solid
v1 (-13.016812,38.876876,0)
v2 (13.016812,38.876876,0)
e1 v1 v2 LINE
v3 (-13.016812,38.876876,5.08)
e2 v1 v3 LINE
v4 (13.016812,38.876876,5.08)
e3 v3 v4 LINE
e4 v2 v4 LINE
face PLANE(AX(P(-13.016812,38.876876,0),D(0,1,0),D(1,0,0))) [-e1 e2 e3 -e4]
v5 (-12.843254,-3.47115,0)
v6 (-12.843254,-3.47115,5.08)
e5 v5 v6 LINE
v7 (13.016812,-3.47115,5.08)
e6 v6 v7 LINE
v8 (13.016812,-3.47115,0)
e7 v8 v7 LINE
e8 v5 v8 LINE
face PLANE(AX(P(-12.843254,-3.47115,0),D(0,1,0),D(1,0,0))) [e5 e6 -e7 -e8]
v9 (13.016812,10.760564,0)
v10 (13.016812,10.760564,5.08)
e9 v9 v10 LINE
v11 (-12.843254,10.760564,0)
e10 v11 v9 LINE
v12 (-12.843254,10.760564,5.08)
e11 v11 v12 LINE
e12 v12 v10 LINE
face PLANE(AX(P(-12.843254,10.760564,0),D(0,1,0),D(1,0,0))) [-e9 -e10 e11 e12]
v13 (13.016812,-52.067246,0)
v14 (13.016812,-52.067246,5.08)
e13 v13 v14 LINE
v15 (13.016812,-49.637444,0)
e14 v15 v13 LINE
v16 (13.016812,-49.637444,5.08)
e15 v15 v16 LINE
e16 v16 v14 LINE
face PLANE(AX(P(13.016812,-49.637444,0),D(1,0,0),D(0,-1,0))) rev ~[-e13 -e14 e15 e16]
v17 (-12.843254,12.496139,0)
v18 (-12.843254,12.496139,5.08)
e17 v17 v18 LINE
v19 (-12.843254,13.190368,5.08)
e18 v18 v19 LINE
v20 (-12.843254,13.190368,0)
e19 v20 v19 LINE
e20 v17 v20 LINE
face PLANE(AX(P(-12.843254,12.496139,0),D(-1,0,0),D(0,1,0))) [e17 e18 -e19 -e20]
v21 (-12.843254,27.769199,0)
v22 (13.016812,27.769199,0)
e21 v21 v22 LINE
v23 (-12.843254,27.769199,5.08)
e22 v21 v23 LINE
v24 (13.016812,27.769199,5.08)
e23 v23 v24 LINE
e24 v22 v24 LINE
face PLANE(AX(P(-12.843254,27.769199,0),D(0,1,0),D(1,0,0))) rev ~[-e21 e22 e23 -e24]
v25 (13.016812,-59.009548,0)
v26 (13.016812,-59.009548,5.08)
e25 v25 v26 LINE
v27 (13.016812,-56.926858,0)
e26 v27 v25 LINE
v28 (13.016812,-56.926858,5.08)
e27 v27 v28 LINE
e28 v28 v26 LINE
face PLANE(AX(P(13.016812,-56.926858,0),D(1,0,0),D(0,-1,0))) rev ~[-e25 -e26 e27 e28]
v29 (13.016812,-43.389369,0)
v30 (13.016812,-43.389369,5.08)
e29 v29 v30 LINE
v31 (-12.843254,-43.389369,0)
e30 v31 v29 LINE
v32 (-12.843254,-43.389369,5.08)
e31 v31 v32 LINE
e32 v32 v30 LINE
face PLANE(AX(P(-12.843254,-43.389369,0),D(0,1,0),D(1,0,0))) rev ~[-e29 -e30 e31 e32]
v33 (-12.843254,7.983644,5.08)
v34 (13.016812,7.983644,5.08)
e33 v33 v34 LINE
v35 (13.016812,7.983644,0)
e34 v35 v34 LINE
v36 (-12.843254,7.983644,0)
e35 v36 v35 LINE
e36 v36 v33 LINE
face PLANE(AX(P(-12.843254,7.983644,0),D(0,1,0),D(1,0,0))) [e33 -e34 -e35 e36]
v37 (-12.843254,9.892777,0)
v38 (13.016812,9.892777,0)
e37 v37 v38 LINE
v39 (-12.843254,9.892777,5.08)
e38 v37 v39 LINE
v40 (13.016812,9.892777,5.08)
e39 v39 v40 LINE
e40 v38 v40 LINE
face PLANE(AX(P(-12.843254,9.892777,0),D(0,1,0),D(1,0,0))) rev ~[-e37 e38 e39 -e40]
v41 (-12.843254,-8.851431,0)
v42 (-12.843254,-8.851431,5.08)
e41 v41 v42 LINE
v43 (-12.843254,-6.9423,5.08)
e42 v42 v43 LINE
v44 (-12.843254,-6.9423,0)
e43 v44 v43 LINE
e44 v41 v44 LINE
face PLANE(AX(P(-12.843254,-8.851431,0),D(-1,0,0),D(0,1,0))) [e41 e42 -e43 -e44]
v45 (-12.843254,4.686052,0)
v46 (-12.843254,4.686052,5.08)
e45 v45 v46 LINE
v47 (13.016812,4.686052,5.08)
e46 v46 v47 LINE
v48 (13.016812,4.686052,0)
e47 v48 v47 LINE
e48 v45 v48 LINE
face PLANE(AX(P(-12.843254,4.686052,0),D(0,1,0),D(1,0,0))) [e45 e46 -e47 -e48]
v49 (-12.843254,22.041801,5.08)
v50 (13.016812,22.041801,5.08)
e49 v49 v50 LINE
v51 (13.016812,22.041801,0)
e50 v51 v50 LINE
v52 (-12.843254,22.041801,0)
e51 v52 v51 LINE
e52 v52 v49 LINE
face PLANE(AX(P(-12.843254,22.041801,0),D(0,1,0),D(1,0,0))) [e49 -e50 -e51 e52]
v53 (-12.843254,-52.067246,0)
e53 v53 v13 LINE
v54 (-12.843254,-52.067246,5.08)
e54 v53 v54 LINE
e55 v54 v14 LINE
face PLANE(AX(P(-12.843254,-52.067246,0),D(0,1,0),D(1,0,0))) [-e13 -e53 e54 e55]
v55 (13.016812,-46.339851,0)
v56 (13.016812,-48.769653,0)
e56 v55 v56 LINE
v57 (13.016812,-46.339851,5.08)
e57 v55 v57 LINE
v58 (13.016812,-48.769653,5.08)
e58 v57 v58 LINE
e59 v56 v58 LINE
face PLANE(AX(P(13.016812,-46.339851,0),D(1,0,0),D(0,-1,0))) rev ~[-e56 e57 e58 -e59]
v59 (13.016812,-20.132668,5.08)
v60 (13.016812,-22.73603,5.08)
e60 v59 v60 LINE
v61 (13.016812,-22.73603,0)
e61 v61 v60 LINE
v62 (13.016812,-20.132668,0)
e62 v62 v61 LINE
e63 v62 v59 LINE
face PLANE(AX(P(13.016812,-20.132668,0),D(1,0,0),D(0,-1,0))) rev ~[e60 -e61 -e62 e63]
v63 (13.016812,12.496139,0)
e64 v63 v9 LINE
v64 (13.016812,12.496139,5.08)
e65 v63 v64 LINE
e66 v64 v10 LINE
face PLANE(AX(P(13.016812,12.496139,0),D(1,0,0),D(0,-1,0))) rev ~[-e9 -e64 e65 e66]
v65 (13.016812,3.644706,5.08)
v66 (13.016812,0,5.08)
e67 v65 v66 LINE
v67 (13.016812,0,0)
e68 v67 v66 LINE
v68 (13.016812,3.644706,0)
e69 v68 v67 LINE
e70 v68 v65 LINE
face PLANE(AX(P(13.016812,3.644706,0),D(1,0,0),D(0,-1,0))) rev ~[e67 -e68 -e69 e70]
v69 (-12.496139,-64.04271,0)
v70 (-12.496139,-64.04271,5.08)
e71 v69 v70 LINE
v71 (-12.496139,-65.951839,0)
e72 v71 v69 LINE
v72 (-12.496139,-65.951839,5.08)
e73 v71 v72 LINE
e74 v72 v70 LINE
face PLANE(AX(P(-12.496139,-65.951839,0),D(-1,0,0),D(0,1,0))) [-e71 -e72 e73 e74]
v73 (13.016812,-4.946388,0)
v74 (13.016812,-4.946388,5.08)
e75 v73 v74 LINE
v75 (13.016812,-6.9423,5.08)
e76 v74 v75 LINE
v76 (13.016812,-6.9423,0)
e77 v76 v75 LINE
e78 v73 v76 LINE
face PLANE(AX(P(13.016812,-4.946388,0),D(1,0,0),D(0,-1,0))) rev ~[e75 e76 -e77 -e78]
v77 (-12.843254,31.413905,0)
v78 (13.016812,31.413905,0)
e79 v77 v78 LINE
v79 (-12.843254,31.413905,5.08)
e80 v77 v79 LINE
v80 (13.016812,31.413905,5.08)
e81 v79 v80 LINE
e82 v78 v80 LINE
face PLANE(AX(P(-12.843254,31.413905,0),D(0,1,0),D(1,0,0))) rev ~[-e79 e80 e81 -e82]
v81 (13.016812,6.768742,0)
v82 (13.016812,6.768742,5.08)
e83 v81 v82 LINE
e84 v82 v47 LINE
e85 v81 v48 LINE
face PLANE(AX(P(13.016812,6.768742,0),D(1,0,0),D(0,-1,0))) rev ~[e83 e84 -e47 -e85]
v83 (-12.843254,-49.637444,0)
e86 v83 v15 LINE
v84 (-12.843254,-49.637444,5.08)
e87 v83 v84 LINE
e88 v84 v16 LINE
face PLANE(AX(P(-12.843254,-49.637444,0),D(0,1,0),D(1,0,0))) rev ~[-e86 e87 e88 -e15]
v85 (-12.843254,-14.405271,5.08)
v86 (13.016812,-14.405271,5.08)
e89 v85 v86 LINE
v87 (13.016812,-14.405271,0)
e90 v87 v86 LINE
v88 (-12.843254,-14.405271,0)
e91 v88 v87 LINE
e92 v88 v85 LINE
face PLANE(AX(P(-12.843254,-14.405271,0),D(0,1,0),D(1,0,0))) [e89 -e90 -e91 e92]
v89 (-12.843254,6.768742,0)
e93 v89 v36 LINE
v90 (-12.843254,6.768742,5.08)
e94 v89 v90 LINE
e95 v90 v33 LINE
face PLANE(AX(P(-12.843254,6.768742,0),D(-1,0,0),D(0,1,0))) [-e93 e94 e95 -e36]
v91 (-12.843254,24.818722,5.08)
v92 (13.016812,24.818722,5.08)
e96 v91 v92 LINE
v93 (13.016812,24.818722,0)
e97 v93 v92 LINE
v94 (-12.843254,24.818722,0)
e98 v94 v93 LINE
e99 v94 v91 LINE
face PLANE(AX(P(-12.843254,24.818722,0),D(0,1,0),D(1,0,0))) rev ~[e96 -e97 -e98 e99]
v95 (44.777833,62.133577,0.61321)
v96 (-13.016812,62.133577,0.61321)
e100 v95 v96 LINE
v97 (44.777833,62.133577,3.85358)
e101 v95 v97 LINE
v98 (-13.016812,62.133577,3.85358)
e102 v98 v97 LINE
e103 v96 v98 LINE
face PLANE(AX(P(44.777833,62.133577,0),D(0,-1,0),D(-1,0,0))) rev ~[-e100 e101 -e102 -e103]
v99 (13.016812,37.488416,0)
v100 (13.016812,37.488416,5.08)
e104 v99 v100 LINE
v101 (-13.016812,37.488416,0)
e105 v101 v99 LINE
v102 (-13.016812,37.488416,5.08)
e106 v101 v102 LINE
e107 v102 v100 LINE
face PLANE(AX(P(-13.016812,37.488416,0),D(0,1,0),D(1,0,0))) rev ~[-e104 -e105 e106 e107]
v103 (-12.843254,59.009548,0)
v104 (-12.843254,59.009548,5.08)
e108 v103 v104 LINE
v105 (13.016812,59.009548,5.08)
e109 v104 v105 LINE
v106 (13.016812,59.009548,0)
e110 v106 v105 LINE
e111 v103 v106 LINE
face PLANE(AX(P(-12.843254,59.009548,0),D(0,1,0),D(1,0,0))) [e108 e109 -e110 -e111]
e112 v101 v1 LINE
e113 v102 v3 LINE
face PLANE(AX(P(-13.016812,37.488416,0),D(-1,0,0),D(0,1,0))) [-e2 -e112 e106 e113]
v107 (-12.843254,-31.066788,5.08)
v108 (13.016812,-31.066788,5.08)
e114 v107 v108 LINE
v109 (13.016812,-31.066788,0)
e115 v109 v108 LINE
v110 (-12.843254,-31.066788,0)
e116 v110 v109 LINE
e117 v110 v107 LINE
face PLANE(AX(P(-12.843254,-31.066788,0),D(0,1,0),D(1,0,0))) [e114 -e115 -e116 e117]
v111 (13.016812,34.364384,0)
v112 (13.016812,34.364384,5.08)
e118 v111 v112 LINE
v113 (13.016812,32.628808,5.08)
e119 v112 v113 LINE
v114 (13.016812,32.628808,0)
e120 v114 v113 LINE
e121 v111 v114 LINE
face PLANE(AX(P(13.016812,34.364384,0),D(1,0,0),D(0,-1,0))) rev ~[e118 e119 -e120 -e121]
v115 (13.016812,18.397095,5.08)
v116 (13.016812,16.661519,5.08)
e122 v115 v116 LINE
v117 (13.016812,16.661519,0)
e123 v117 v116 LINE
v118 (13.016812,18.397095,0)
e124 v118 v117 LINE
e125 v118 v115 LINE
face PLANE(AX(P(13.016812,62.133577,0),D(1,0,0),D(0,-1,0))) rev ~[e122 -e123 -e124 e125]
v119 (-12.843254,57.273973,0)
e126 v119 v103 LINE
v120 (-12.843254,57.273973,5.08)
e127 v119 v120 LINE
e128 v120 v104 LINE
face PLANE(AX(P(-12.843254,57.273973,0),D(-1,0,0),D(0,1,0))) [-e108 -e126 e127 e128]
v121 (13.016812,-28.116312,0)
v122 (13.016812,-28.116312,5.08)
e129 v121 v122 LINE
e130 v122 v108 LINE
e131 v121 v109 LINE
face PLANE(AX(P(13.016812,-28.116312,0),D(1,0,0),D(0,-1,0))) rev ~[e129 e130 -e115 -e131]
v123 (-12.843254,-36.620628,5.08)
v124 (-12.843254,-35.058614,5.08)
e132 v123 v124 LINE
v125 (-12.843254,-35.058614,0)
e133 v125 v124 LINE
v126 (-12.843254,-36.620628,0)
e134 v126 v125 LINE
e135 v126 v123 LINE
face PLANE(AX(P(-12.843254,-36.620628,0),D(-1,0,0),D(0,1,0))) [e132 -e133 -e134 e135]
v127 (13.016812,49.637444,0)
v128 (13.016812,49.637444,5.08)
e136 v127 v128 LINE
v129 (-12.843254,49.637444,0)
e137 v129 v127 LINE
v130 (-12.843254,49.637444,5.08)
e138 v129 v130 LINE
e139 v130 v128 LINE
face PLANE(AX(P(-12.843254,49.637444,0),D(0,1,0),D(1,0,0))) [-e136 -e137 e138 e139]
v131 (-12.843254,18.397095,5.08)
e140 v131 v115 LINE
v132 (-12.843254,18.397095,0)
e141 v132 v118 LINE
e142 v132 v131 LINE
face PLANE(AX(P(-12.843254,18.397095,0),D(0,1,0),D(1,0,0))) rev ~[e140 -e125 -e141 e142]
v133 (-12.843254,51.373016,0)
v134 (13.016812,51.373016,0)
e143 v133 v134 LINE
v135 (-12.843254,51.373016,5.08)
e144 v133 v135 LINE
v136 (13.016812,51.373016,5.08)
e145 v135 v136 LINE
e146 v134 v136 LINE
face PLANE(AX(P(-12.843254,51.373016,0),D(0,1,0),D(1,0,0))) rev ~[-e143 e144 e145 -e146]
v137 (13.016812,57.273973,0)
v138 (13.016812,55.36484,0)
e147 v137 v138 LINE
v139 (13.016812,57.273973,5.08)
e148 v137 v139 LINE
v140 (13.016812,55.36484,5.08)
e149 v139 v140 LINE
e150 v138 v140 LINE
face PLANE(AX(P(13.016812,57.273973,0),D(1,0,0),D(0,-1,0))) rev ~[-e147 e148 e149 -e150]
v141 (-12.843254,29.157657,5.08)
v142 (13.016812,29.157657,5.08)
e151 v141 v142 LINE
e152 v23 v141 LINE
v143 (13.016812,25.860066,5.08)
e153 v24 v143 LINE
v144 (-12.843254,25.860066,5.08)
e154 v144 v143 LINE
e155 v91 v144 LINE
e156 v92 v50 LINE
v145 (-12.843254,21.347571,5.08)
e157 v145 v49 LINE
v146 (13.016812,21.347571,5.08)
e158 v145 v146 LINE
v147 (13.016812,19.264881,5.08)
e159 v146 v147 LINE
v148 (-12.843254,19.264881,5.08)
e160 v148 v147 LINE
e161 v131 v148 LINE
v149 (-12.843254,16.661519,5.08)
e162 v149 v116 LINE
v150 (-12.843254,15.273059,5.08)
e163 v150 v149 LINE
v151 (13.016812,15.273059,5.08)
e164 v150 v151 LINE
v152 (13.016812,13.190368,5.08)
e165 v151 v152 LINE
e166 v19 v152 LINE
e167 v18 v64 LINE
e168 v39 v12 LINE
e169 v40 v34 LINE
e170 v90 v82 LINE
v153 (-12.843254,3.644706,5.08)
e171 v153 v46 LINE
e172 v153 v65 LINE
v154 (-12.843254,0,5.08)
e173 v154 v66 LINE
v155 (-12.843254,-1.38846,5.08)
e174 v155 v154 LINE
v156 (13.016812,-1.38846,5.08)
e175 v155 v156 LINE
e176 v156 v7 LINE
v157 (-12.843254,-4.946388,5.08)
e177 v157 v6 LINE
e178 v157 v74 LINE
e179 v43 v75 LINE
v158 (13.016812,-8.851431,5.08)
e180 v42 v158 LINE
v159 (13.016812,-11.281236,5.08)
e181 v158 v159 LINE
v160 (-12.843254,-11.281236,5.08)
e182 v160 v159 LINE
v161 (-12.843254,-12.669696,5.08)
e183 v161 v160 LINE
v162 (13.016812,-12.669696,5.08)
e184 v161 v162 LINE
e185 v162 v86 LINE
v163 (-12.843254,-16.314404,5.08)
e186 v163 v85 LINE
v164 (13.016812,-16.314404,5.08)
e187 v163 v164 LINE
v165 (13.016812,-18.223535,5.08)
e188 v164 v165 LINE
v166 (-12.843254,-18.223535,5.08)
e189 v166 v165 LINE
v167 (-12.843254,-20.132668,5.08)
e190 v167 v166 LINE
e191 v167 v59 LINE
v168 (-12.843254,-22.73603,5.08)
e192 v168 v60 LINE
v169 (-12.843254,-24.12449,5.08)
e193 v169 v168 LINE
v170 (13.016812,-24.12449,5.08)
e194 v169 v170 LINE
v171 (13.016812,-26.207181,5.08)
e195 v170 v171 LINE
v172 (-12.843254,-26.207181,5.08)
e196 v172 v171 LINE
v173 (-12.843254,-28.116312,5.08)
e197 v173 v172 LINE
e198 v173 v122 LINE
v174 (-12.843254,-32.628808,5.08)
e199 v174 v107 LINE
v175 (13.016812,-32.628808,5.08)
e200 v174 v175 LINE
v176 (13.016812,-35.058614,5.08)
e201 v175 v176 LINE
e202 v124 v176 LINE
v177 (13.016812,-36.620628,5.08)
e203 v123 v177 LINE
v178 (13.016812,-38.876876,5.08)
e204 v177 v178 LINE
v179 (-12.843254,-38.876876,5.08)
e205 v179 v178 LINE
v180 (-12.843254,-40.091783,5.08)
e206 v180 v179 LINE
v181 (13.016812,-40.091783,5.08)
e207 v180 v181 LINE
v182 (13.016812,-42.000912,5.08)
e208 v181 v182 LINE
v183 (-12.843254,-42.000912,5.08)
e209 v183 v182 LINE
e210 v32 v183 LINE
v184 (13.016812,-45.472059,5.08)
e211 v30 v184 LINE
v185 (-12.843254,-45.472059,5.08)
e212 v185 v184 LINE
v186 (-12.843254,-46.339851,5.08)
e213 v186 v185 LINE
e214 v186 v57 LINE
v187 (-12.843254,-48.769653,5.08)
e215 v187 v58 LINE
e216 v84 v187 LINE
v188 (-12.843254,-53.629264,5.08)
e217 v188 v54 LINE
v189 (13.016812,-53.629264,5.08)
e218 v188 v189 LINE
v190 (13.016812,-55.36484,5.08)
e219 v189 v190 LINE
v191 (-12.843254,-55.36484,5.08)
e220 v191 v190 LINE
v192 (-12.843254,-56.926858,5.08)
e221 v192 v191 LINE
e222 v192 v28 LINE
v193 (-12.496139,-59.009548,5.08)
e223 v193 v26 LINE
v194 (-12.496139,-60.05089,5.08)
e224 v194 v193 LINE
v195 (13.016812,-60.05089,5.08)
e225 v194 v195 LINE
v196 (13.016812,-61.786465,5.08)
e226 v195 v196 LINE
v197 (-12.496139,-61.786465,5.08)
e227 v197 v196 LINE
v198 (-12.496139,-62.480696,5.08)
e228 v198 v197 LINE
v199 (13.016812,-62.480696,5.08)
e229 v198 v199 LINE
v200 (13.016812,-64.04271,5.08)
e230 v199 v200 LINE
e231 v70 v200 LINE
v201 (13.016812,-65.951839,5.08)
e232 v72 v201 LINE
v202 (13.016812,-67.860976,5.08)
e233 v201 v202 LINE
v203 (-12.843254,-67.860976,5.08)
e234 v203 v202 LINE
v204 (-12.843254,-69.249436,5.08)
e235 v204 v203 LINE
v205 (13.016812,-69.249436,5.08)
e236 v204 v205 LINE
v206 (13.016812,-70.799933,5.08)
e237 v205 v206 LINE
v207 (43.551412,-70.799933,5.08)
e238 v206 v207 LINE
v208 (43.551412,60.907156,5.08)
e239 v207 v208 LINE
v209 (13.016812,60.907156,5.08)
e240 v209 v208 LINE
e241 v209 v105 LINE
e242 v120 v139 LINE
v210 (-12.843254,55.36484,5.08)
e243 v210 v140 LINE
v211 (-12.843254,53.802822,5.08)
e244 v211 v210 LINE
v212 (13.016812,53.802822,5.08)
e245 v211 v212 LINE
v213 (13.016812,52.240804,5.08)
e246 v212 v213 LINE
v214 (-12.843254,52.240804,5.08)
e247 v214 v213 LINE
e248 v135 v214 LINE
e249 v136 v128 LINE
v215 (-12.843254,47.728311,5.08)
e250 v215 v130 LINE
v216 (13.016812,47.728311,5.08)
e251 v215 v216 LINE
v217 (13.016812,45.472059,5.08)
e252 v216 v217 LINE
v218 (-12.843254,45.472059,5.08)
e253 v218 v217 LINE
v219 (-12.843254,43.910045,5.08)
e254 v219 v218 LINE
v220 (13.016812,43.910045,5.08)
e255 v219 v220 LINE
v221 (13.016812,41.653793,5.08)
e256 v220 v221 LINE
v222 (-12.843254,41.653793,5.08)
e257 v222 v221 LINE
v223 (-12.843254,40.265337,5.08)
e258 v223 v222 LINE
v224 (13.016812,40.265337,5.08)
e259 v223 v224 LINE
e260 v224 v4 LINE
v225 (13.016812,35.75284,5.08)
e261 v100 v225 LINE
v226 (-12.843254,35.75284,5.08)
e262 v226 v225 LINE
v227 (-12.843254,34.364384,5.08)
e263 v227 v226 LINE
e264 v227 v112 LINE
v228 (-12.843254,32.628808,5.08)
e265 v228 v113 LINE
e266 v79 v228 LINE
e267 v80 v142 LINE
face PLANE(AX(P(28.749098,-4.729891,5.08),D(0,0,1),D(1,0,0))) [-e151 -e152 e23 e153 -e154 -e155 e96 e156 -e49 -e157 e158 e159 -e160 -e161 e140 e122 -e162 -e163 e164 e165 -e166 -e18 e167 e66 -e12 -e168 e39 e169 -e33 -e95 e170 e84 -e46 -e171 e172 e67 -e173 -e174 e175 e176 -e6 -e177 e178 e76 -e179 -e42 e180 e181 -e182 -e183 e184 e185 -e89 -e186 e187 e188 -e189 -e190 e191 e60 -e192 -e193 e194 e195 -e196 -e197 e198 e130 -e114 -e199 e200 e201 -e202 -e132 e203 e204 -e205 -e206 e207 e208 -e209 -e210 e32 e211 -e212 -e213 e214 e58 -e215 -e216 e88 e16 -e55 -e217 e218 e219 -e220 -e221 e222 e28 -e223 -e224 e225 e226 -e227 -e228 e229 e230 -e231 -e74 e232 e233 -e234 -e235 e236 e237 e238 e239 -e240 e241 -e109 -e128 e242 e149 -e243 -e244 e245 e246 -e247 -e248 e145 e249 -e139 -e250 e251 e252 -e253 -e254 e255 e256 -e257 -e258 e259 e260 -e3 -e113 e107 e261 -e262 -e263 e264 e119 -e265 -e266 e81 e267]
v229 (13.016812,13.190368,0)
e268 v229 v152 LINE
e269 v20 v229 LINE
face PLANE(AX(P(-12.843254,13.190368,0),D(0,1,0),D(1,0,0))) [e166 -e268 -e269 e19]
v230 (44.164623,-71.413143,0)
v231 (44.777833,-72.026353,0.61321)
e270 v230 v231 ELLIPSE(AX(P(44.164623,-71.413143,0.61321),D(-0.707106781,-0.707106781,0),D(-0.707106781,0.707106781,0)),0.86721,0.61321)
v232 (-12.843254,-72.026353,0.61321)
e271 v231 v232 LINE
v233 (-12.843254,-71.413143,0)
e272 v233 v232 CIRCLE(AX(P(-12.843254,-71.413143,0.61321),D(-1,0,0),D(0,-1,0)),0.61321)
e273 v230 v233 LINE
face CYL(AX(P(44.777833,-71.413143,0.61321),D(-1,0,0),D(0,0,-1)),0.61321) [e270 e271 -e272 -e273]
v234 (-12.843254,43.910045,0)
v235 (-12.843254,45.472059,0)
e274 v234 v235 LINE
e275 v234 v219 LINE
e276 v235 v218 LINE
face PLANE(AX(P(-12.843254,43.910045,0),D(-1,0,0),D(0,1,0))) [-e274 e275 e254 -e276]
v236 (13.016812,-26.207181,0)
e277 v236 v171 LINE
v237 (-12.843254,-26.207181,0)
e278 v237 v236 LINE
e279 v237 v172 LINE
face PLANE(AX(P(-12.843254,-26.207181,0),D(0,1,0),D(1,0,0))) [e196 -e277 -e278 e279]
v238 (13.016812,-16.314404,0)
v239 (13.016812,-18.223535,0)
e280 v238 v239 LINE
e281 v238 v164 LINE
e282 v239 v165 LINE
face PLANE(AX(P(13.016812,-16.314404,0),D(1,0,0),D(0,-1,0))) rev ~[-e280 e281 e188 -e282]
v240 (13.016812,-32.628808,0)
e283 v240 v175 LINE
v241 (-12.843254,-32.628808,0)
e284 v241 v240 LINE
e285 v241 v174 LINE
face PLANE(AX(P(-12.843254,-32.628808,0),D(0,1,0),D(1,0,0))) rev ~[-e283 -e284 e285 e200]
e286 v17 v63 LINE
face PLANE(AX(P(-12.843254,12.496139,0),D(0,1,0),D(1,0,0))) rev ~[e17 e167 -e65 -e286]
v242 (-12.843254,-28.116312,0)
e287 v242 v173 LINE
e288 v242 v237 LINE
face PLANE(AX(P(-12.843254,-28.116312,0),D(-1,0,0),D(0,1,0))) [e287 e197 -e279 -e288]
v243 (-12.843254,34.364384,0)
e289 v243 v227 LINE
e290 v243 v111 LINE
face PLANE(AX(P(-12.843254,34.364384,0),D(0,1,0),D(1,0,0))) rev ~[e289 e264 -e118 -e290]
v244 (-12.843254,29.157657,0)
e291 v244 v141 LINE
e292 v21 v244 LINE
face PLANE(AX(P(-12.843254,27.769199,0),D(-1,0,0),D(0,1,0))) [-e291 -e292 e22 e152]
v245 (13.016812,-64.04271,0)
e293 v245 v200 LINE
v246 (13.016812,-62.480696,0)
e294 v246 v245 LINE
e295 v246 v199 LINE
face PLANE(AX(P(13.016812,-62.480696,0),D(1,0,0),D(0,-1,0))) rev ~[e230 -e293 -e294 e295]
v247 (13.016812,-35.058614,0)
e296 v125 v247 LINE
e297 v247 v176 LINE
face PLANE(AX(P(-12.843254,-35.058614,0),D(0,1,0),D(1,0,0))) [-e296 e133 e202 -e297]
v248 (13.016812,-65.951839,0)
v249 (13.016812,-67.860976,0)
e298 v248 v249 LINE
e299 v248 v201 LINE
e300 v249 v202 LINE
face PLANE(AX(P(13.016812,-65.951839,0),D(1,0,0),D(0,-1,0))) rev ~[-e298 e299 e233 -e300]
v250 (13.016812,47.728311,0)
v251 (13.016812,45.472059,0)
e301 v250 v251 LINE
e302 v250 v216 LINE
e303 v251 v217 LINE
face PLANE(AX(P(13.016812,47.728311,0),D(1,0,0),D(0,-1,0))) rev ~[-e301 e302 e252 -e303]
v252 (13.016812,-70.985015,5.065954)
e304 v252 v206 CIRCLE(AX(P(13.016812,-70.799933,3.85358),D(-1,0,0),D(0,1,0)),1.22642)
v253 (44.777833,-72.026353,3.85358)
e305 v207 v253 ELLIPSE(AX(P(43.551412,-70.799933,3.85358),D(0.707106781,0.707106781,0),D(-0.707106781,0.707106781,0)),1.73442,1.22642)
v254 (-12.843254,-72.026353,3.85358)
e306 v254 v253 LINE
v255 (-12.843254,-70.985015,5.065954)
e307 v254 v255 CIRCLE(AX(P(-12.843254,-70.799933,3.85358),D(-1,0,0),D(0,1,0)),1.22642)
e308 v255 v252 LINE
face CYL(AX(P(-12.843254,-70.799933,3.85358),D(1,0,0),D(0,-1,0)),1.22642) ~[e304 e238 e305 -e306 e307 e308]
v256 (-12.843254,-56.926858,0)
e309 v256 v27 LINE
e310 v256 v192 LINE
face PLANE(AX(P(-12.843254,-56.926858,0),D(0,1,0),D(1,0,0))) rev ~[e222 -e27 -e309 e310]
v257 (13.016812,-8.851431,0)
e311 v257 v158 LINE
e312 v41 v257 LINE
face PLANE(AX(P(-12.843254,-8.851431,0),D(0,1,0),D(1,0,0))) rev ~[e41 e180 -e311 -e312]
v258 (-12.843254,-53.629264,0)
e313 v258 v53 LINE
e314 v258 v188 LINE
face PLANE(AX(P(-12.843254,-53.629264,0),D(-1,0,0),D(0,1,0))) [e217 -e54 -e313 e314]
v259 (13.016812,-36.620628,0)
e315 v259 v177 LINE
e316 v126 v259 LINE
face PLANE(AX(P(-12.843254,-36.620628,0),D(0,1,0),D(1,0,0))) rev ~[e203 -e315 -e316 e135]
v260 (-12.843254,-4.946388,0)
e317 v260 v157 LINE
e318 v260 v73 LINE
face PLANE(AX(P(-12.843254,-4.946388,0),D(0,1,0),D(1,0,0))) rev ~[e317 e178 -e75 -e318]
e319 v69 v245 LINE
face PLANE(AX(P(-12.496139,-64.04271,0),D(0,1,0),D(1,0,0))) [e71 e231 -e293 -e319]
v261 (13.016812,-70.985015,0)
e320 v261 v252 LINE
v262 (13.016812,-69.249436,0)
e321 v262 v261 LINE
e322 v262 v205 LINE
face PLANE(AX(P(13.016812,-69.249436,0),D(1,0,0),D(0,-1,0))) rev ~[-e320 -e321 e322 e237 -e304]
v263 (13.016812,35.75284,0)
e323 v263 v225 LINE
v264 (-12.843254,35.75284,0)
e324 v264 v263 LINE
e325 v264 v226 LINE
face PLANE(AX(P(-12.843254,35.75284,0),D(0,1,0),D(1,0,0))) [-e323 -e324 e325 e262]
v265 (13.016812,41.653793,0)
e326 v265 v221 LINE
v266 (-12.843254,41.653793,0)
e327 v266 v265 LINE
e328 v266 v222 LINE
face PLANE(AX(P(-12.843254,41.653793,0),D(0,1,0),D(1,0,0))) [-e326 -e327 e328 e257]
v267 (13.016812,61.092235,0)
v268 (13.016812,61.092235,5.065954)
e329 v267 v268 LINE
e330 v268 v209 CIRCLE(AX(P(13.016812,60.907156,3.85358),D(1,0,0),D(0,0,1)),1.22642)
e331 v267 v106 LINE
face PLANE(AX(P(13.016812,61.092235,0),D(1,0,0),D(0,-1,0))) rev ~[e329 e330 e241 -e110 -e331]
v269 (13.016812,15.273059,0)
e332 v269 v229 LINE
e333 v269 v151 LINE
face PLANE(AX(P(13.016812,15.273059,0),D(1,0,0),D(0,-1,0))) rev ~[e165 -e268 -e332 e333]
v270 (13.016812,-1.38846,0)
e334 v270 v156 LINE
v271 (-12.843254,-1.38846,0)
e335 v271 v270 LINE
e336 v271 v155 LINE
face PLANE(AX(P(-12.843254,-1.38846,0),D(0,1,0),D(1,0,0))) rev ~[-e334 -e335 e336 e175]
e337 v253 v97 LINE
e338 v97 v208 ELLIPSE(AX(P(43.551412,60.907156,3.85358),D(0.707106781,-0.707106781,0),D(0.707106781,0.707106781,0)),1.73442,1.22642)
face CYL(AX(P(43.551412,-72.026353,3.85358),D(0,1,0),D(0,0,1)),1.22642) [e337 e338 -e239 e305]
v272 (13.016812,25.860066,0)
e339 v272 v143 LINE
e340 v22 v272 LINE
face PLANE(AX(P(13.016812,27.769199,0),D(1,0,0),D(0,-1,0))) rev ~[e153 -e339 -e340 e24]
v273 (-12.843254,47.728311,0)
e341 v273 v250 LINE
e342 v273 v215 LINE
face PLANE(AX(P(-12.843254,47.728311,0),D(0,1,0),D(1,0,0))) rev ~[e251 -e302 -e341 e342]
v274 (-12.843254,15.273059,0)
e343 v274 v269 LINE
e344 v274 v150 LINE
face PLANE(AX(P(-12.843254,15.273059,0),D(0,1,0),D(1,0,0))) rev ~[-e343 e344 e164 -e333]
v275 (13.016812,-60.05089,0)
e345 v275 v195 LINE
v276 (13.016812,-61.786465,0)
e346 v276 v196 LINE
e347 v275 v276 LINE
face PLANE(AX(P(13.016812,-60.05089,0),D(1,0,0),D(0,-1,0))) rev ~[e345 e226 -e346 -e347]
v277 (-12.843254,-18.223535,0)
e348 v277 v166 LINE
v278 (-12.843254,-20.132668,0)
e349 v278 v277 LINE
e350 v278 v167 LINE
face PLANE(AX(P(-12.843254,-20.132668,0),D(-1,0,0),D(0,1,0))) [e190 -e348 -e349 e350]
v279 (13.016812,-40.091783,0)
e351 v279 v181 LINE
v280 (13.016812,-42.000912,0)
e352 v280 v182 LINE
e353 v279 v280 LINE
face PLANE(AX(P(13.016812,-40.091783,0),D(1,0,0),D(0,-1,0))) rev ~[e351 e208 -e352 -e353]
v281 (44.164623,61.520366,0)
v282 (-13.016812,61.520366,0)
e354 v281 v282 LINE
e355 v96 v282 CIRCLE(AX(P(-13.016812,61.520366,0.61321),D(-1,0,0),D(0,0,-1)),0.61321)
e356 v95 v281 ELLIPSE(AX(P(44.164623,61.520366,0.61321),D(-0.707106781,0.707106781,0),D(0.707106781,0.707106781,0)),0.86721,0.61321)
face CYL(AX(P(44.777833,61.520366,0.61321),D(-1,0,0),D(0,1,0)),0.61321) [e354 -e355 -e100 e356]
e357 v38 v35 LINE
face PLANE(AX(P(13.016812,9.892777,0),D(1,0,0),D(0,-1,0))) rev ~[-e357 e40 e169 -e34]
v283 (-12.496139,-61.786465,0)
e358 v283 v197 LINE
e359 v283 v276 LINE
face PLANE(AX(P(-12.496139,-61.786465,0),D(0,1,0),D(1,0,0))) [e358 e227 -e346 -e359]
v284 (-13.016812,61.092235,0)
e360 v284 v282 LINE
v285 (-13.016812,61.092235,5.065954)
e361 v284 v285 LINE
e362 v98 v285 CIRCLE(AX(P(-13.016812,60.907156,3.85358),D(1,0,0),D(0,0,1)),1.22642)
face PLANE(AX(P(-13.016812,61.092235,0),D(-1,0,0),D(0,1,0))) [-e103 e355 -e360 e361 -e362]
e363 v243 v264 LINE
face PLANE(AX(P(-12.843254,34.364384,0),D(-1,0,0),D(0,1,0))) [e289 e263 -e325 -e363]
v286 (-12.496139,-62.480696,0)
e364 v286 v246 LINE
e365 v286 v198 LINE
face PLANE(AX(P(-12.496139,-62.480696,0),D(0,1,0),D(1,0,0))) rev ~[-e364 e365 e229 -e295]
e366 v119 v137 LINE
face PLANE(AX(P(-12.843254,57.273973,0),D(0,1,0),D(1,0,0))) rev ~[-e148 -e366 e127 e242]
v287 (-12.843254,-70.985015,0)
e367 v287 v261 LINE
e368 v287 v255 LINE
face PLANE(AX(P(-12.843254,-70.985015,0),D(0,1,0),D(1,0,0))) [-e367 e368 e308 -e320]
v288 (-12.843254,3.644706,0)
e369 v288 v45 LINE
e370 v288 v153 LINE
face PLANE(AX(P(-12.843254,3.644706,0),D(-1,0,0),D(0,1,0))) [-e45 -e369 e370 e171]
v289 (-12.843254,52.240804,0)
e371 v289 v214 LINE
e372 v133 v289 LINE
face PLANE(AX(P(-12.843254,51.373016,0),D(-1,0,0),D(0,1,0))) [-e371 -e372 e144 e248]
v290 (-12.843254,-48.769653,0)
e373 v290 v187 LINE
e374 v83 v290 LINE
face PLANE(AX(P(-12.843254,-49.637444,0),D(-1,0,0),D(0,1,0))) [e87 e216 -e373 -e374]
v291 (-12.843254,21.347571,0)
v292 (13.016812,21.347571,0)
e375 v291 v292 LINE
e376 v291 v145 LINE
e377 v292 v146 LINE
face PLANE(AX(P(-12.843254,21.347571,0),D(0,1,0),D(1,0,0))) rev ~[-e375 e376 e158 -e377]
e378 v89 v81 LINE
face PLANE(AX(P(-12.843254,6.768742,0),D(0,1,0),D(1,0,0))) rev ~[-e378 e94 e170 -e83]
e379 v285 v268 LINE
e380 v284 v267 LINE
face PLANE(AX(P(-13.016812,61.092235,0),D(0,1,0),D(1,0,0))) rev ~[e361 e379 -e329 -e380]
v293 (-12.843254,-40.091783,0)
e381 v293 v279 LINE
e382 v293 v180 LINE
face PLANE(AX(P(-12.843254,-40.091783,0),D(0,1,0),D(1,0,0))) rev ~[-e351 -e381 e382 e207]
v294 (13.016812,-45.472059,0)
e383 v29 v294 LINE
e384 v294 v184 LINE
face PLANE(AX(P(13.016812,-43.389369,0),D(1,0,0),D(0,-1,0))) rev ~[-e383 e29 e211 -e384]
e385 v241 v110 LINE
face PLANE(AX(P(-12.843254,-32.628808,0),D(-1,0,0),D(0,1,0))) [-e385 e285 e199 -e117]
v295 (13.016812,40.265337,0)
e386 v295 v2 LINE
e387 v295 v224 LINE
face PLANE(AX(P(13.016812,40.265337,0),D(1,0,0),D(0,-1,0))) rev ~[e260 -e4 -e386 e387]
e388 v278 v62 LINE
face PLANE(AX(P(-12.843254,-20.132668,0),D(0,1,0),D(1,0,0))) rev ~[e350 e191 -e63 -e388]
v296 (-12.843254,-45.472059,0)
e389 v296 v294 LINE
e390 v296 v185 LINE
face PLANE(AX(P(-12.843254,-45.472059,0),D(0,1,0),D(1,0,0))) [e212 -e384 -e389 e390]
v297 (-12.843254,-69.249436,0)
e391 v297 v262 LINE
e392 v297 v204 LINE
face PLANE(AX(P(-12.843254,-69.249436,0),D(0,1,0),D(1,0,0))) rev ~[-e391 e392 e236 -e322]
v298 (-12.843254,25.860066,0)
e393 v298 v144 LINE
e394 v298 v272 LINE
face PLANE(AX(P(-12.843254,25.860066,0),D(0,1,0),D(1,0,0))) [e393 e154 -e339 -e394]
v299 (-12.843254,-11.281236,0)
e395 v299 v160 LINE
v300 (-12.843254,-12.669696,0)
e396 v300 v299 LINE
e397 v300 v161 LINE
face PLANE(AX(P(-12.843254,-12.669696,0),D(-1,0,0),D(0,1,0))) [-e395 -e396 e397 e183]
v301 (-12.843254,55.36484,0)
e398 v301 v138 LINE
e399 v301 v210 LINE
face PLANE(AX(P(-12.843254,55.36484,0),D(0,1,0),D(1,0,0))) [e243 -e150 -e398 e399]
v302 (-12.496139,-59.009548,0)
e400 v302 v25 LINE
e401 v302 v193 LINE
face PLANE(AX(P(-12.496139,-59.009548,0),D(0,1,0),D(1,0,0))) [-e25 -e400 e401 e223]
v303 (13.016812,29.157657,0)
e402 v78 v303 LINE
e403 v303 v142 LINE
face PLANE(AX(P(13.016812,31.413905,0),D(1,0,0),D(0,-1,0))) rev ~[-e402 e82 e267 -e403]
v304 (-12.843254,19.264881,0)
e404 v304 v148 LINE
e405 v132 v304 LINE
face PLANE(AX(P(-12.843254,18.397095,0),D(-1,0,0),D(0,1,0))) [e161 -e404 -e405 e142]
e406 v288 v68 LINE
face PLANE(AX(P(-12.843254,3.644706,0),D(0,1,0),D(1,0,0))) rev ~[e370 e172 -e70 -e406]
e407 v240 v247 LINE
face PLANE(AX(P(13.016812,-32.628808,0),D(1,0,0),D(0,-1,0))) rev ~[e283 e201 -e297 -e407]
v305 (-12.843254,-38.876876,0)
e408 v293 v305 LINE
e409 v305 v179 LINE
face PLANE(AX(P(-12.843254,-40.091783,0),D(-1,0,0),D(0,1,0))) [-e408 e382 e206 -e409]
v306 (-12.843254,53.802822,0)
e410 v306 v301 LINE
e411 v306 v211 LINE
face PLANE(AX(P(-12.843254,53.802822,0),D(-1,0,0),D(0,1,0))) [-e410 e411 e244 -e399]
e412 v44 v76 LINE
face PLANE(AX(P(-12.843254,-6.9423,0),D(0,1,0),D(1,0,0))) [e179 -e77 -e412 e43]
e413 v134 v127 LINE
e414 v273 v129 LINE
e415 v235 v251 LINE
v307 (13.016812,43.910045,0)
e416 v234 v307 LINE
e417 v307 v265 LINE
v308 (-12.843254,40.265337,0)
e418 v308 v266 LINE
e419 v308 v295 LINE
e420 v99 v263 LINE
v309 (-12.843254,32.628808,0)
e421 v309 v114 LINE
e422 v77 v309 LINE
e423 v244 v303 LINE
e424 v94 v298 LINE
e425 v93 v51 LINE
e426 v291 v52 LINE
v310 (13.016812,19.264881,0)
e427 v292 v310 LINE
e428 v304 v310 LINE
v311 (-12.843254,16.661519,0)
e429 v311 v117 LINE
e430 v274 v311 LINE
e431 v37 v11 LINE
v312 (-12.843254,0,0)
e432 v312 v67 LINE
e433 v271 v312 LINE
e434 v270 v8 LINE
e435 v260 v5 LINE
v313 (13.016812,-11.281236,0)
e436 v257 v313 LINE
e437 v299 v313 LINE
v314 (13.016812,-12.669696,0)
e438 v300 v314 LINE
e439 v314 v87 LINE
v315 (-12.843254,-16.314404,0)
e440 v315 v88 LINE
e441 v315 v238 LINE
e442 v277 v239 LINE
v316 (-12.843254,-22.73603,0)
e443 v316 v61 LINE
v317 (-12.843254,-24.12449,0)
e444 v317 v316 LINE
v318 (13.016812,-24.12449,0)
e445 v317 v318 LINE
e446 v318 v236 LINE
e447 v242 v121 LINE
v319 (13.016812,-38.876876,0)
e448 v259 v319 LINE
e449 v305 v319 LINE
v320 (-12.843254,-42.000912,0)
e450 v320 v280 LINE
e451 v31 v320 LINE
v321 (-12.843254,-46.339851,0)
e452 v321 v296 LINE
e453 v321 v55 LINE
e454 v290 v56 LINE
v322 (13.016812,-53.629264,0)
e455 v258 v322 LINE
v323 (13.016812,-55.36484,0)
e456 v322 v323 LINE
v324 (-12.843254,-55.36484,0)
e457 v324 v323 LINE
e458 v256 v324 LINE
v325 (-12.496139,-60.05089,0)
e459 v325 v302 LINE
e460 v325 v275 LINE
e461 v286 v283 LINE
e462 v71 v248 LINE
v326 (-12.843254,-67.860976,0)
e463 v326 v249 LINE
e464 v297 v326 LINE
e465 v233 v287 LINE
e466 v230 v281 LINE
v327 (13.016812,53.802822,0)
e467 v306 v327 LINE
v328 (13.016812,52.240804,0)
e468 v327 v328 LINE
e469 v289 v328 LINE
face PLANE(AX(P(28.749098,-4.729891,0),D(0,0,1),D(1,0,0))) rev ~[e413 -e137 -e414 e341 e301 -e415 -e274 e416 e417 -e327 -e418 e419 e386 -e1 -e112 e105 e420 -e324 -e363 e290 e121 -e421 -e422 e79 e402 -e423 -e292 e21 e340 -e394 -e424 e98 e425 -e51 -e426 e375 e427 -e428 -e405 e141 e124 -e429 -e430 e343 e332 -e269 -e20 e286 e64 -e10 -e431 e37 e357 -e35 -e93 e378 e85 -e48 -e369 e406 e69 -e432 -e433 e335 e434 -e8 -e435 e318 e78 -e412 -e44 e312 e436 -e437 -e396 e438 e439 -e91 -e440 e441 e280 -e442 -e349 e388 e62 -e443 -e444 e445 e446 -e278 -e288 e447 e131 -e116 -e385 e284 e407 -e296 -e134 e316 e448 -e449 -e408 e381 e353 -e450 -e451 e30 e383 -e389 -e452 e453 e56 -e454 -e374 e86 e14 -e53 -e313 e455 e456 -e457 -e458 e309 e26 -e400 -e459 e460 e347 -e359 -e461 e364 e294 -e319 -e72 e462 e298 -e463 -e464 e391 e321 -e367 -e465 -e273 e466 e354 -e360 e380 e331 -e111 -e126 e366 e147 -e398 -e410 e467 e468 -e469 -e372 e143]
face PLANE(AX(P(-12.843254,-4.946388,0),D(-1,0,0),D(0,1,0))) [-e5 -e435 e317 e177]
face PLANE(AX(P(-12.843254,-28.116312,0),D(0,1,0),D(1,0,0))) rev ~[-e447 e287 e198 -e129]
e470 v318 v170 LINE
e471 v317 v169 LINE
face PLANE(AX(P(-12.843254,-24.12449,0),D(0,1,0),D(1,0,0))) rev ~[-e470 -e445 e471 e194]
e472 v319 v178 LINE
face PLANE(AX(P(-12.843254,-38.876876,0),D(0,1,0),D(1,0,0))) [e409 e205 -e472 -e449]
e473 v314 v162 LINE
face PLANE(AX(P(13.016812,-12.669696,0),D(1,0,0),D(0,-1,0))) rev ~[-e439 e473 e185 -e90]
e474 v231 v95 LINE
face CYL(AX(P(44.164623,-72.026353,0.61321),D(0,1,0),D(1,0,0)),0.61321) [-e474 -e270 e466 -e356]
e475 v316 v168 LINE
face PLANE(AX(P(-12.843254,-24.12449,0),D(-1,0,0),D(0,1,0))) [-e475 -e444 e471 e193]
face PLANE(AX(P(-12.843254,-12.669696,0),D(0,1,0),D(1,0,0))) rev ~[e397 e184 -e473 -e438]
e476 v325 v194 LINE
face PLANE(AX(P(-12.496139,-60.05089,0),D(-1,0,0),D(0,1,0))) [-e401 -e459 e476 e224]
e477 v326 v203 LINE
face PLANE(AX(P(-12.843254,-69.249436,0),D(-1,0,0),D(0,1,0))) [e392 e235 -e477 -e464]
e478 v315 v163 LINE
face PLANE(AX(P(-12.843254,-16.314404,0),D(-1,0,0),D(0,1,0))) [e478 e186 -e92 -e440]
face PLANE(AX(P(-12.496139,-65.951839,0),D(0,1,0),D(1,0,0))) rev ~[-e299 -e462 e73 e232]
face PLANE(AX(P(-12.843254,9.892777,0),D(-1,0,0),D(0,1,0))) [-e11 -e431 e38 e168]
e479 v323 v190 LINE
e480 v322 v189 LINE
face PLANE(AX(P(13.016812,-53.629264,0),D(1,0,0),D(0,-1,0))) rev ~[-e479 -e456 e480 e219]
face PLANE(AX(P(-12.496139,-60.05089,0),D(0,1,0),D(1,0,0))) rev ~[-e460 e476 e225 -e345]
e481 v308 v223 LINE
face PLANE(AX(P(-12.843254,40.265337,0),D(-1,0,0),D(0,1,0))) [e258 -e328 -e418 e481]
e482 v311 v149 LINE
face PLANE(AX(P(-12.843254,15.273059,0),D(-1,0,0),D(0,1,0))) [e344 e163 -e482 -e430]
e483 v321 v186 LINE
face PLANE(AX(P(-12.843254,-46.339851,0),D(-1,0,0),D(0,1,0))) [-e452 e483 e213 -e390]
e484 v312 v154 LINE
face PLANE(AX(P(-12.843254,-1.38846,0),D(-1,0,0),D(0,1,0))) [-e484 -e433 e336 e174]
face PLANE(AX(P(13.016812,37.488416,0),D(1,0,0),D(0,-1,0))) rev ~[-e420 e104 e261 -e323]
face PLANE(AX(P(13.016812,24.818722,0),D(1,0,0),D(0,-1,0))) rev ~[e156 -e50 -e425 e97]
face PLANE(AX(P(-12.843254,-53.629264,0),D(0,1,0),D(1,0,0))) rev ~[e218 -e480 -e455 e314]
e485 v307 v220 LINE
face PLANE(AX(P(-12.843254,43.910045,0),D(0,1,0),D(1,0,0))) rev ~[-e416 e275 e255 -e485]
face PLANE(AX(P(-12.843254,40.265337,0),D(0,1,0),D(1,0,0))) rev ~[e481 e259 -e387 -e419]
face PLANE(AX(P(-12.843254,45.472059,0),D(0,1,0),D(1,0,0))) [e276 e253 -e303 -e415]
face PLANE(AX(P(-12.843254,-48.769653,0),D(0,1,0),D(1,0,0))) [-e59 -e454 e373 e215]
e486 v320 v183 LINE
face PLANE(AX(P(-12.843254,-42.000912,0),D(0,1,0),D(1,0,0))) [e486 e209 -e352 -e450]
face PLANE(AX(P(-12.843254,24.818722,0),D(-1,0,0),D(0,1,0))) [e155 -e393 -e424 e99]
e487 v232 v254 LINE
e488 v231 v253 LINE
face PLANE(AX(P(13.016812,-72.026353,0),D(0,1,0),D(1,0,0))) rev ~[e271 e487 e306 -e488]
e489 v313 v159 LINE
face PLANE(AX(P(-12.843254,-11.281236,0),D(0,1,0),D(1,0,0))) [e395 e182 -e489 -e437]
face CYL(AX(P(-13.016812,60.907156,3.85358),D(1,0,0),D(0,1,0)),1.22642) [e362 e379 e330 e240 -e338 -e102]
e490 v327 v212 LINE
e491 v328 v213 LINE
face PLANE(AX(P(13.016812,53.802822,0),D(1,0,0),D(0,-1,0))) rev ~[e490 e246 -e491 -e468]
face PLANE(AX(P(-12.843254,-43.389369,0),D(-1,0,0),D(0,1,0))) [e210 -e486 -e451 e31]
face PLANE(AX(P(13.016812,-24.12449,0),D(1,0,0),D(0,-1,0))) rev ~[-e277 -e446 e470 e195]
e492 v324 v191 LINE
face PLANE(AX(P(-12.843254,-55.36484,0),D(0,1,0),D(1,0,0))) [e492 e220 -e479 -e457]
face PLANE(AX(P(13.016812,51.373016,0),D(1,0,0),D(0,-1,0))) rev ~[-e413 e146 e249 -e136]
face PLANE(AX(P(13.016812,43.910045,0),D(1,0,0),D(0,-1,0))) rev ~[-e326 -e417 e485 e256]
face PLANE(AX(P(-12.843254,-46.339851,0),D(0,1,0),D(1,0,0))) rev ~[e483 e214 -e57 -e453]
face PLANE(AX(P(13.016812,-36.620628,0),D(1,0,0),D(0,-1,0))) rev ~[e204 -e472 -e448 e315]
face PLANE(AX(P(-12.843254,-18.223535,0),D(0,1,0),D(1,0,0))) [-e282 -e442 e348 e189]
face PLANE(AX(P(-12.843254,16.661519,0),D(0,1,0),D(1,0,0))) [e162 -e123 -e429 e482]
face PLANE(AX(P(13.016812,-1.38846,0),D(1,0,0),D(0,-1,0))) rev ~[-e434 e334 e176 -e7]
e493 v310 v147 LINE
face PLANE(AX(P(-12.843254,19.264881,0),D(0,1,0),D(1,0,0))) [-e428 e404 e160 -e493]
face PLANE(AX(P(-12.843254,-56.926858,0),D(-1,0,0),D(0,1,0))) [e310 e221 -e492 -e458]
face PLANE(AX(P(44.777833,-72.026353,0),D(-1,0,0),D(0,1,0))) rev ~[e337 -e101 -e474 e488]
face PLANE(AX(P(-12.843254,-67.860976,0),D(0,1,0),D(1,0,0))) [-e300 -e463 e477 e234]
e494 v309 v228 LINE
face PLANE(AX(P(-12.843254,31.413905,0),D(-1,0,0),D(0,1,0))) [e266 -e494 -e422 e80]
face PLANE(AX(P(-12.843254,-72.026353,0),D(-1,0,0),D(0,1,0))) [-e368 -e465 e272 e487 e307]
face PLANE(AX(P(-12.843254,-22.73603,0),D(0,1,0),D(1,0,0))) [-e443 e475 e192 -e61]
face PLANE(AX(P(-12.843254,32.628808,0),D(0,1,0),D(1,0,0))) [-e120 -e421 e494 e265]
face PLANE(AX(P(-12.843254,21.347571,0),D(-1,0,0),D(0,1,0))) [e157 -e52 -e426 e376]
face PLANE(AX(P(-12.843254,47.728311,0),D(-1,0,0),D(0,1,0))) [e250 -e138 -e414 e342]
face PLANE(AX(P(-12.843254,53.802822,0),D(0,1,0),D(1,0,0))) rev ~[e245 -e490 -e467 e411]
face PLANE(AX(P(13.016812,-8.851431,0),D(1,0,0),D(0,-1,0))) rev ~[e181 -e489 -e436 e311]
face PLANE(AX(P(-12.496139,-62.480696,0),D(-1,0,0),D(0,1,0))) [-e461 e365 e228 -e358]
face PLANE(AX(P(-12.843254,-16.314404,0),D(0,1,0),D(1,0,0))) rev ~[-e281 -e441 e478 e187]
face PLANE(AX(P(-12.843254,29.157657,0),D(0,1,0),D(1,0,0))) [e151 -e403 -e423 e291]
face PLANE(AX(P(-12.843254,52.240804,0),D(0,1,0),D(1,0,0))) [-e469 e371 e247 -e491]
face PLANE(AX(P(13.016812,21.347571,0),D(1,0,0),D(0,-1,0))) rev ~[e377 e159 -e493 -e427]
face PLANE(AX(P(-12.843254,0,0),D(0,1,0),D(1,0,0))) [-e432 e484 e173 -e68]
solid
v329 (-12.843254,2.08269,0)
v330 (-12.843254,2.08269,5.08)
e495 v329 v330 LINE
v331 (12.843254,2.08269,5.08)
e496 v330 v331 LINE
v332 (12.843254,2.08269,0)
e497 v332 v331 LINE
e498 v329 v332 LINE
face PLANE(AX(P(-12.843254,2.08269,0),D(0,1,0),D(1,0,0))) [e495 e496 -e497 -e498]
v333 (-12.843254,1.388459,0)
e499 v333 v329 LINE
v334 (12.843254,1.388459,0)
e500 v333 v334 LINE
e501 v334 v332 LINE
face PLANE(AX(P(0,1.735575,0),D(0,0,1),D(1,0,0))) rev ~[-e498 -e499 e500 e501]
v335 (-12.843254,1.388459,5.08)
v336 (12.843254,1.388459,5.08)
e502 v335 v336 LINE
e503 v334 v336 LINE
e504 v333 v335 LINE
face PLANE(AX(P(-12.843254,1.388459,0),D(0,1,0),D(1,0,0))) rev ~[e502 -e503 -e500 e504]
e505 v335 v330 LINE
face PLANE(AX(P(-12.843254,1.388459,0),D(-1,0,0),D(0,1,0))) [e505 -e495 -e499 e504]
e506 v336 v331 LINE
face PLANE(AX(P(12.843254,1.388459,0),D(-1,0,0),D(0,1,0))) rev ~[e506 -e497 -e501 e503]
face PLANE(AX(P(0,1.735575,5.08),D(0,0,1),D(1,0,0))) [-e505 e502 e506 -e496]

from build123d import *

# Parameters (mm, degrees)
F1_DEPTH = 5.08
F0_W     = 26.033623144
F0_H     = 1.041341573
F0_W_2   = 25.8600655943
F0_H_2   = 1.7355754972
F0_H_3   = 1.0413378477
F0_H_4   = 1.5620179474
F0_H_5   = 1.3884603977
F0_H_6   = 0.8677877486
F0_W_3   = 25.5129504949
F0_H_7   = 1.9091293216
F0_H_8   = 1.9091330469
F0_H_9   = 0.6942301989
F0_H_10  = 1.5620142221
F0_H_11  = 1.3884566724
F0_H_12  = 0.8677914739
F0_H_13  = 1.214902848
F0_H_14  = 1.3884585351
F0_H_15  = 1.0413434356
F0_H_16  = 1.2149065733
F0_H_17  = 0.8677858859
F0_H_18  = 1.5620198101
F0_W_4   = 1.7355754972
F0_H_19  = 1.9091311842
F0_H_20  = 0.6942292675
F0_H_21  = 1.2149023823
F0_H_22  = 1.0413455311
F0_H_23  = 1.3884599321
F0_H_24  = 1.9091316499
F0_H_25  = 1.4752384741
F2_DEPTH = 5.08
F0_W_5   = 25.6865080446
F0_H_26  = 0.6942305481
F3_R     = 1.2264204897
F4_R     = 0.6132102448


with BuildPart() as f1:
    # F0 (on Top) → F1 (new body)
    with BuildSketch(Plane.XY):
        Polygon((44.7778329253, 62.133576721), (13.016811572, 62.133576721), (13.016811572, 61.092235148), (13.016811572, 59.0095482767), (13.016811572, 57.2739727795), (13.016811572, 55.3648397326), (13.016811572, 53.8028217852), (13.016811572, 52.2408038378), (13.016811572, 51.3730160892), (13.016811572, 49.6374443173), (13.016811572, 47.7283112705), (13.016811572, 45.4720593989), (13.016811572, 43.9100451767), (13.016811572, 41.6537933052), (13.016811572, 40.2653366327), (13.016811572, 38.876876235), (13.016811572, 37.4884158373), (13.016811572, 35.7528403401), (13.016811572, 34.3643836677), (13.016811572, 32.6288081706), (13.016811572, 31.4139053226), (13.016811572, 29.1576571763), (13.016811572, 27.7691986412), (13.016811572, 25.8600655943), (13.016811572, 24.8187221587), (13.016811572, 22.0418013632), (13.016811572, 21.3475711644), (13.016811572, 19.2648805678), (13.016811572, 18.3970946819), (13.016811572, 16.6615191847), (14.7523870692, 16.6615191847), (14.7523870692, 15.273058787), (13.016811572, 15.273058787), (13.016811572, 13.1903681904), (13.016811572, 12.4961389229), (13.016811572, 10.760564357), (13.016811572, 9.8927766085), (13.016811572, 7.9836444929), (13.016811572, 6.7687421106), (13.016811572, 4.6860519797), (13.016811572, 3.6447064485), (13.016811572, 0), (13.016811572, -1.3884599321), (13.016811572, -3.4711498301), (13.016811572, -4.9463883042), (13.016811572, -6.9422996603), (13.016811572, -8.8514313102), (13.016811572, -11.2812360749), (13.016811572, -12.6696964726), (13.016811572, -14.4052710384), (13.016811572, -16.3144040853), (13.016811572, -18.2235352695), (13.016811572, -20.1326683164), (13.016811572, -22.7360296994), (13.016811572, -24.1244900972), (13.016811572, -26.2071806937), (13.016811572, -28.116311878), (13.016811572, -31.0667883605), (13.016811572, -32.6288081706), (13.016811572, -35.0586138666), (13.016811572, -36.6206280887), (13.016811572, -38.876876235), (13.016811572, -40.0917828083), (13.016811572, -42.0009121299), (13.016811572, -43.3893688023), (13.016811572, -45.4720593989), (13.016811572, -46.3398508728), (13.016811572, -48.7696528435), (13.016811572, -49.6374443173), (13.016811572, -52.0672462881), (13.016811572, -53.6292642355), (13.016811572, -55.3648397326), (13.016811572, -56.9268576801), (13.016811572, -59.0095482767), (13.016811572, -60.0508898497), (13.016811572, -61.7864653468), (13.016811572, -62.4806955457), (13.016811572, -64.0427097678), (13.016811572, -65.9518390894), (13.016811572, -67.8609758615), (13.016811572, -69.2494362593), (13.016811572, -70.9850154817), (13.016811572, -72.0263533294), (44.7778329253, -72.0263533294), align=None)
    extrude(amount=F1_DEPTH)

    # F0 (on Top) → F2 (join)
    with BuildSketch(Plane.XY):
        Polygon((44.7778329253, 62.133576721), (13.016811572, 62.133576721), (13.016811572, 61.092235148), (13.016811572, 59.0095482767), (13.016811572, 57.2739727795), (13.016811572, 55.3648397326), (13.016811572, 53.8028217852), (13.016811572, 52.2408038378), (13.016811572, 51.3730160892), (13.016811572, 49.6374443173), (13.016811572, 47.7283112705), (13.016811572, 45.4720593989), (13.016811572, 43.9100451767), (13.016811572, 41.6537933052), (13.016811572, 40.2653366327), (13.016811572, 38.876876235), (13.016811572, 37.4884158373), (13.016811572, 35.7528403401), (13.016811572, 34.3643836677), (13.016811572, 32.6288081706), (13.016811572, 31.4139053226), (13.016811572, 29.1576571763), (13.016811572, 27.7691986412), (13.016811572, 25.8600655943), (13.016811572, 24.8187221587), (13.016811572, 22.0418013632), (13.016811572, 21.3475711644), (13.016811572, 19.2648805678), (13.016811572, 18.3970946819), (13.016811572, 16.6615191847), (14.7523870692, 16.6615191847), (14.7523870692, 15.273058787), (13.016811572, 15.273058787), (13.016811572, 13.1903681904), (13.016811572, 12.4961389229), (13.016811572, 10.760564357), (13.016811572, 9.8927766085), (13.016811572, 7.9836444929), (13.016811572, 6.7687421106), (13.016811572, 4.6860519797), (13.016811572, 3.6447064485), (13.016811572, 0), (13.016811572, -1.3884599321), (13.016811572, -3.4711498301), (13.016811572, -4.9463883042), (13.016811572, -6.9422996603), (13.016811572, -8.8514313102), (13.016811572, -11.2812360749), (13.016811572, -12.6696964726), (13.016811572, -14.4052710384), (13.016811572, -16.3144040853), (13.016811572, -18.2235352695), (13.016811572, -20.1326683164), (13.016811572, -22.7360296994), (13.016811572, -24.1244900972), (13.016811572, -26.2071806937), (13.016811572, -28.116311878), (13.016811572, -31.0667883605), (13.016811572, -32.6288081706), (13.016811572, -35.0586138666), (13.016811572, -36.6206280887), (13.016811572, -38.876876235), (13.016811572, -40.0917828083), (13.016811572, -42.0009121299), (13.016811572, -43.3893688023), (13.016811572, -45.4720593989), (13.016811572, -46.3398508728), (13.016811572, -48.7696528435), (13.016811572, -49.6374443173), (13.016811572, -52.0672462881), (13.016811572, -53.6292642355), (13.016811572, -55.3648397326), (13.016811572, -56.9268576801), (13.016811572, -59.0095482767), (13.016811572, -60.0508898497), (13.016811572, -61.7864653468), (13.016811572, -62.4806955457), (13.016811572, -64.0427097678), (13.016811572, -65.9518390894), (13.016811572, -67.8609758615), (13.016811572, -69.2494362593), (13.016811572, -70.9850154817), (13.016811572, -72.0263533294), (44.7778329253, -72.0263533294), align=None)
        with Locations((0, 61.6129059345)):
            Rectangle(F0_W, F0_H)
        with Locations((0.0867787749, 58.1417605281)):
            Rectangle(F0_W_2, F0_H_2)
        with Locations((0.0867787749, -71.5056844056)):
            Rectangle(F0_W_2, F0_H_3)
        with Locations((0.0867787749, 54.5838307589)):
            Rectangle(F0_W_2, F0_H_4)
        with Locations((0.0867787749, -68.5552060604)):
            Rectangle(F0_W_2, F0_H_5)
        with Locations((0.0867787749, 51.8069099635)):
            Rectangle(F0_W_2, F0_H_6)
        with Locations((0.2603363246, -64.9972744286)):
            Rectangle(F0_W_3, F0_H_7)
        with Locations((0.0867787749, 48.6828777939)):
            Rectangle(F0_W_2, F0_H_8)
        with Locations((0.2603363246, -62.1335804462)):
            Rectangle(F0_W_3, F0_H_9)
        with Locations((0.0867787749, 44.6910522878)):
            Rectangle(F0_W_2, F0_H_10)
        with Locations((0.2603363246, -59.5302190632)):
            Rectangle(F0_W_3, F0_H)
        with Locations((0.0867787749, 40.9595649689)):
            Rectangle(F0_W_2, F0_H_11)
        with Locations((0.0867787749, -56.1458487064)):
            Rectangle(F0_W_2, F0_H_4)
        with Locations((0, 38.1826460361)):
            Rectangle(F0_W, F0_H_5)
        with Locations((0.0867787749, -52.8482552618)):
            Rectangle(F0_W_2, F0_H_4)
        with Locations((0.0867787749, 35.0586120039)):
            Rectangle(F0_W_2, F0_H_11)
        with Locations((0.0867787749, -49.2035485804)):
            Rectangle(F0_W_2, F0_H_12)
        with Locations((0.0867787749, 32.0213567466)):
            Rectangle(F0_W_2, F0_H_13)
        with Locations((0.0867787749, -45.9059551358)):
            Rectangle(F0_W_2, F0_H_12)
        with Locations((0.0867787749, 28.4634279087)):
            Rectangle(F0_W_2, F0_H_14)
        with Locations((0.0867787749, -42.6951404661)):
            Rectangle(F0_W_2, F0_H_11)
        with Locations((0.0867787749, 25.3393938765)):
            Rectangle(F0_W_2, F0_H_15)
        with Locations((0.0867787749, -39.4843295217)):
            Rectangle(F0_W_2, F0_H_16)
        with Locations((0.0867787749, 21.6946862638)):
            Rectangle(F0_W_2, F0_H_9)
        with Locations((0.0867787749, -35.8396209776)):
            Rectangle(F0_W_2, F0_H_10)
        with Locations((0.0867787749, 18.8309876248)):
            Rectangle(F0_W_2, F0_H_17)
        with Locations((0.0867787749, -31.8477982655)):
            Rectangle(F0_W_2, F0_H_18)
        with Locations((13.8845993206, 15.9672889858)):
            Rectangle(F0_W_4, F0_H_5)
        with Locations((0.0867787749, 15.9672889858)):
            Rectangle(F0_W_2, F0_H_5)
        with Locations((0.0867787749, -27.1617462859)):
            Rectangle(F0_W_2, F0_H_19)
        with Locations((0.0867787749, 12.8432535566)):
            Rectangle(F0_W_2, F0_H_20)
        with Locations((0.0867787749, -23.4302598983)):
            Rectangle(F0_W_2, F0_H_5)
        with Locations((0.0867787749, 10.3266704828)):
            Rectangle(F0_W_2, F0_H_6)
        with Locations((0.0867787749, -19.1781017929)):
            Rectangle(F0_W_2, F0_H_8)
        with Locations((0.0867787749, 7.3761933018)):
            Rectangle(F0_W_2, F0_H_21)
        with Locations((0.0867787749, -15.3598375618)):
            Rectangle(F0_W_2, F0_H_8)
        with Locations((0.0867787749, 4.1653792141)):
            Rectangle(F0_W_2, F0_H_22)
        with Locations((0.0867787749, -11.9754662737)):
            Rectangle(F0_W_2, F0_H_5)
        with Locations((0.0867787749, -0.694229966)):
            Rectangle(F0_W_2, F0_H_23)
        with Locations((0.0867787749, -7.8968654852)):
            Rectangle(F0_W_2, F0_H_24)
        with Locations((0.0867787749, -4.2087690672)):
            Rectangle(F0_W_2, F0_H_25)
    extrude(amount=F2_DEPTH)

    # F3
    f3_edges = [f1.edges().sort_by_distance(p)[0] for p in [
        (15.880511, 62.133577, 5.08),
        (44.777833, -4.946388, 5.08),
        (15.967289, -72.026353, 5.08),
    ]]
    fillet(f3_edges, radius=F3_R)

    # F4
    f4_edges = [f1.edges().sort_by_distance(p)[0] for p in [
        (15.967289, -72.026353, 0),
        (44.777833, -4.946388, 0),
        (15.880511, 62.133577, 0),
    ]]
    fillet(f4_edges, radius=F4_R)


with BuildPart() as f2:
    # F0 (on Top) → F2, piece 2 (new body)
    with BuildSketch(Plane.XY):
        with Locations((0, 1.735574624)):
            Rectangle(F0_W_5, F0_H_26)
    extrude(amount=F2_DEPTH)


solid = Compound([f1.part, f2.part])
